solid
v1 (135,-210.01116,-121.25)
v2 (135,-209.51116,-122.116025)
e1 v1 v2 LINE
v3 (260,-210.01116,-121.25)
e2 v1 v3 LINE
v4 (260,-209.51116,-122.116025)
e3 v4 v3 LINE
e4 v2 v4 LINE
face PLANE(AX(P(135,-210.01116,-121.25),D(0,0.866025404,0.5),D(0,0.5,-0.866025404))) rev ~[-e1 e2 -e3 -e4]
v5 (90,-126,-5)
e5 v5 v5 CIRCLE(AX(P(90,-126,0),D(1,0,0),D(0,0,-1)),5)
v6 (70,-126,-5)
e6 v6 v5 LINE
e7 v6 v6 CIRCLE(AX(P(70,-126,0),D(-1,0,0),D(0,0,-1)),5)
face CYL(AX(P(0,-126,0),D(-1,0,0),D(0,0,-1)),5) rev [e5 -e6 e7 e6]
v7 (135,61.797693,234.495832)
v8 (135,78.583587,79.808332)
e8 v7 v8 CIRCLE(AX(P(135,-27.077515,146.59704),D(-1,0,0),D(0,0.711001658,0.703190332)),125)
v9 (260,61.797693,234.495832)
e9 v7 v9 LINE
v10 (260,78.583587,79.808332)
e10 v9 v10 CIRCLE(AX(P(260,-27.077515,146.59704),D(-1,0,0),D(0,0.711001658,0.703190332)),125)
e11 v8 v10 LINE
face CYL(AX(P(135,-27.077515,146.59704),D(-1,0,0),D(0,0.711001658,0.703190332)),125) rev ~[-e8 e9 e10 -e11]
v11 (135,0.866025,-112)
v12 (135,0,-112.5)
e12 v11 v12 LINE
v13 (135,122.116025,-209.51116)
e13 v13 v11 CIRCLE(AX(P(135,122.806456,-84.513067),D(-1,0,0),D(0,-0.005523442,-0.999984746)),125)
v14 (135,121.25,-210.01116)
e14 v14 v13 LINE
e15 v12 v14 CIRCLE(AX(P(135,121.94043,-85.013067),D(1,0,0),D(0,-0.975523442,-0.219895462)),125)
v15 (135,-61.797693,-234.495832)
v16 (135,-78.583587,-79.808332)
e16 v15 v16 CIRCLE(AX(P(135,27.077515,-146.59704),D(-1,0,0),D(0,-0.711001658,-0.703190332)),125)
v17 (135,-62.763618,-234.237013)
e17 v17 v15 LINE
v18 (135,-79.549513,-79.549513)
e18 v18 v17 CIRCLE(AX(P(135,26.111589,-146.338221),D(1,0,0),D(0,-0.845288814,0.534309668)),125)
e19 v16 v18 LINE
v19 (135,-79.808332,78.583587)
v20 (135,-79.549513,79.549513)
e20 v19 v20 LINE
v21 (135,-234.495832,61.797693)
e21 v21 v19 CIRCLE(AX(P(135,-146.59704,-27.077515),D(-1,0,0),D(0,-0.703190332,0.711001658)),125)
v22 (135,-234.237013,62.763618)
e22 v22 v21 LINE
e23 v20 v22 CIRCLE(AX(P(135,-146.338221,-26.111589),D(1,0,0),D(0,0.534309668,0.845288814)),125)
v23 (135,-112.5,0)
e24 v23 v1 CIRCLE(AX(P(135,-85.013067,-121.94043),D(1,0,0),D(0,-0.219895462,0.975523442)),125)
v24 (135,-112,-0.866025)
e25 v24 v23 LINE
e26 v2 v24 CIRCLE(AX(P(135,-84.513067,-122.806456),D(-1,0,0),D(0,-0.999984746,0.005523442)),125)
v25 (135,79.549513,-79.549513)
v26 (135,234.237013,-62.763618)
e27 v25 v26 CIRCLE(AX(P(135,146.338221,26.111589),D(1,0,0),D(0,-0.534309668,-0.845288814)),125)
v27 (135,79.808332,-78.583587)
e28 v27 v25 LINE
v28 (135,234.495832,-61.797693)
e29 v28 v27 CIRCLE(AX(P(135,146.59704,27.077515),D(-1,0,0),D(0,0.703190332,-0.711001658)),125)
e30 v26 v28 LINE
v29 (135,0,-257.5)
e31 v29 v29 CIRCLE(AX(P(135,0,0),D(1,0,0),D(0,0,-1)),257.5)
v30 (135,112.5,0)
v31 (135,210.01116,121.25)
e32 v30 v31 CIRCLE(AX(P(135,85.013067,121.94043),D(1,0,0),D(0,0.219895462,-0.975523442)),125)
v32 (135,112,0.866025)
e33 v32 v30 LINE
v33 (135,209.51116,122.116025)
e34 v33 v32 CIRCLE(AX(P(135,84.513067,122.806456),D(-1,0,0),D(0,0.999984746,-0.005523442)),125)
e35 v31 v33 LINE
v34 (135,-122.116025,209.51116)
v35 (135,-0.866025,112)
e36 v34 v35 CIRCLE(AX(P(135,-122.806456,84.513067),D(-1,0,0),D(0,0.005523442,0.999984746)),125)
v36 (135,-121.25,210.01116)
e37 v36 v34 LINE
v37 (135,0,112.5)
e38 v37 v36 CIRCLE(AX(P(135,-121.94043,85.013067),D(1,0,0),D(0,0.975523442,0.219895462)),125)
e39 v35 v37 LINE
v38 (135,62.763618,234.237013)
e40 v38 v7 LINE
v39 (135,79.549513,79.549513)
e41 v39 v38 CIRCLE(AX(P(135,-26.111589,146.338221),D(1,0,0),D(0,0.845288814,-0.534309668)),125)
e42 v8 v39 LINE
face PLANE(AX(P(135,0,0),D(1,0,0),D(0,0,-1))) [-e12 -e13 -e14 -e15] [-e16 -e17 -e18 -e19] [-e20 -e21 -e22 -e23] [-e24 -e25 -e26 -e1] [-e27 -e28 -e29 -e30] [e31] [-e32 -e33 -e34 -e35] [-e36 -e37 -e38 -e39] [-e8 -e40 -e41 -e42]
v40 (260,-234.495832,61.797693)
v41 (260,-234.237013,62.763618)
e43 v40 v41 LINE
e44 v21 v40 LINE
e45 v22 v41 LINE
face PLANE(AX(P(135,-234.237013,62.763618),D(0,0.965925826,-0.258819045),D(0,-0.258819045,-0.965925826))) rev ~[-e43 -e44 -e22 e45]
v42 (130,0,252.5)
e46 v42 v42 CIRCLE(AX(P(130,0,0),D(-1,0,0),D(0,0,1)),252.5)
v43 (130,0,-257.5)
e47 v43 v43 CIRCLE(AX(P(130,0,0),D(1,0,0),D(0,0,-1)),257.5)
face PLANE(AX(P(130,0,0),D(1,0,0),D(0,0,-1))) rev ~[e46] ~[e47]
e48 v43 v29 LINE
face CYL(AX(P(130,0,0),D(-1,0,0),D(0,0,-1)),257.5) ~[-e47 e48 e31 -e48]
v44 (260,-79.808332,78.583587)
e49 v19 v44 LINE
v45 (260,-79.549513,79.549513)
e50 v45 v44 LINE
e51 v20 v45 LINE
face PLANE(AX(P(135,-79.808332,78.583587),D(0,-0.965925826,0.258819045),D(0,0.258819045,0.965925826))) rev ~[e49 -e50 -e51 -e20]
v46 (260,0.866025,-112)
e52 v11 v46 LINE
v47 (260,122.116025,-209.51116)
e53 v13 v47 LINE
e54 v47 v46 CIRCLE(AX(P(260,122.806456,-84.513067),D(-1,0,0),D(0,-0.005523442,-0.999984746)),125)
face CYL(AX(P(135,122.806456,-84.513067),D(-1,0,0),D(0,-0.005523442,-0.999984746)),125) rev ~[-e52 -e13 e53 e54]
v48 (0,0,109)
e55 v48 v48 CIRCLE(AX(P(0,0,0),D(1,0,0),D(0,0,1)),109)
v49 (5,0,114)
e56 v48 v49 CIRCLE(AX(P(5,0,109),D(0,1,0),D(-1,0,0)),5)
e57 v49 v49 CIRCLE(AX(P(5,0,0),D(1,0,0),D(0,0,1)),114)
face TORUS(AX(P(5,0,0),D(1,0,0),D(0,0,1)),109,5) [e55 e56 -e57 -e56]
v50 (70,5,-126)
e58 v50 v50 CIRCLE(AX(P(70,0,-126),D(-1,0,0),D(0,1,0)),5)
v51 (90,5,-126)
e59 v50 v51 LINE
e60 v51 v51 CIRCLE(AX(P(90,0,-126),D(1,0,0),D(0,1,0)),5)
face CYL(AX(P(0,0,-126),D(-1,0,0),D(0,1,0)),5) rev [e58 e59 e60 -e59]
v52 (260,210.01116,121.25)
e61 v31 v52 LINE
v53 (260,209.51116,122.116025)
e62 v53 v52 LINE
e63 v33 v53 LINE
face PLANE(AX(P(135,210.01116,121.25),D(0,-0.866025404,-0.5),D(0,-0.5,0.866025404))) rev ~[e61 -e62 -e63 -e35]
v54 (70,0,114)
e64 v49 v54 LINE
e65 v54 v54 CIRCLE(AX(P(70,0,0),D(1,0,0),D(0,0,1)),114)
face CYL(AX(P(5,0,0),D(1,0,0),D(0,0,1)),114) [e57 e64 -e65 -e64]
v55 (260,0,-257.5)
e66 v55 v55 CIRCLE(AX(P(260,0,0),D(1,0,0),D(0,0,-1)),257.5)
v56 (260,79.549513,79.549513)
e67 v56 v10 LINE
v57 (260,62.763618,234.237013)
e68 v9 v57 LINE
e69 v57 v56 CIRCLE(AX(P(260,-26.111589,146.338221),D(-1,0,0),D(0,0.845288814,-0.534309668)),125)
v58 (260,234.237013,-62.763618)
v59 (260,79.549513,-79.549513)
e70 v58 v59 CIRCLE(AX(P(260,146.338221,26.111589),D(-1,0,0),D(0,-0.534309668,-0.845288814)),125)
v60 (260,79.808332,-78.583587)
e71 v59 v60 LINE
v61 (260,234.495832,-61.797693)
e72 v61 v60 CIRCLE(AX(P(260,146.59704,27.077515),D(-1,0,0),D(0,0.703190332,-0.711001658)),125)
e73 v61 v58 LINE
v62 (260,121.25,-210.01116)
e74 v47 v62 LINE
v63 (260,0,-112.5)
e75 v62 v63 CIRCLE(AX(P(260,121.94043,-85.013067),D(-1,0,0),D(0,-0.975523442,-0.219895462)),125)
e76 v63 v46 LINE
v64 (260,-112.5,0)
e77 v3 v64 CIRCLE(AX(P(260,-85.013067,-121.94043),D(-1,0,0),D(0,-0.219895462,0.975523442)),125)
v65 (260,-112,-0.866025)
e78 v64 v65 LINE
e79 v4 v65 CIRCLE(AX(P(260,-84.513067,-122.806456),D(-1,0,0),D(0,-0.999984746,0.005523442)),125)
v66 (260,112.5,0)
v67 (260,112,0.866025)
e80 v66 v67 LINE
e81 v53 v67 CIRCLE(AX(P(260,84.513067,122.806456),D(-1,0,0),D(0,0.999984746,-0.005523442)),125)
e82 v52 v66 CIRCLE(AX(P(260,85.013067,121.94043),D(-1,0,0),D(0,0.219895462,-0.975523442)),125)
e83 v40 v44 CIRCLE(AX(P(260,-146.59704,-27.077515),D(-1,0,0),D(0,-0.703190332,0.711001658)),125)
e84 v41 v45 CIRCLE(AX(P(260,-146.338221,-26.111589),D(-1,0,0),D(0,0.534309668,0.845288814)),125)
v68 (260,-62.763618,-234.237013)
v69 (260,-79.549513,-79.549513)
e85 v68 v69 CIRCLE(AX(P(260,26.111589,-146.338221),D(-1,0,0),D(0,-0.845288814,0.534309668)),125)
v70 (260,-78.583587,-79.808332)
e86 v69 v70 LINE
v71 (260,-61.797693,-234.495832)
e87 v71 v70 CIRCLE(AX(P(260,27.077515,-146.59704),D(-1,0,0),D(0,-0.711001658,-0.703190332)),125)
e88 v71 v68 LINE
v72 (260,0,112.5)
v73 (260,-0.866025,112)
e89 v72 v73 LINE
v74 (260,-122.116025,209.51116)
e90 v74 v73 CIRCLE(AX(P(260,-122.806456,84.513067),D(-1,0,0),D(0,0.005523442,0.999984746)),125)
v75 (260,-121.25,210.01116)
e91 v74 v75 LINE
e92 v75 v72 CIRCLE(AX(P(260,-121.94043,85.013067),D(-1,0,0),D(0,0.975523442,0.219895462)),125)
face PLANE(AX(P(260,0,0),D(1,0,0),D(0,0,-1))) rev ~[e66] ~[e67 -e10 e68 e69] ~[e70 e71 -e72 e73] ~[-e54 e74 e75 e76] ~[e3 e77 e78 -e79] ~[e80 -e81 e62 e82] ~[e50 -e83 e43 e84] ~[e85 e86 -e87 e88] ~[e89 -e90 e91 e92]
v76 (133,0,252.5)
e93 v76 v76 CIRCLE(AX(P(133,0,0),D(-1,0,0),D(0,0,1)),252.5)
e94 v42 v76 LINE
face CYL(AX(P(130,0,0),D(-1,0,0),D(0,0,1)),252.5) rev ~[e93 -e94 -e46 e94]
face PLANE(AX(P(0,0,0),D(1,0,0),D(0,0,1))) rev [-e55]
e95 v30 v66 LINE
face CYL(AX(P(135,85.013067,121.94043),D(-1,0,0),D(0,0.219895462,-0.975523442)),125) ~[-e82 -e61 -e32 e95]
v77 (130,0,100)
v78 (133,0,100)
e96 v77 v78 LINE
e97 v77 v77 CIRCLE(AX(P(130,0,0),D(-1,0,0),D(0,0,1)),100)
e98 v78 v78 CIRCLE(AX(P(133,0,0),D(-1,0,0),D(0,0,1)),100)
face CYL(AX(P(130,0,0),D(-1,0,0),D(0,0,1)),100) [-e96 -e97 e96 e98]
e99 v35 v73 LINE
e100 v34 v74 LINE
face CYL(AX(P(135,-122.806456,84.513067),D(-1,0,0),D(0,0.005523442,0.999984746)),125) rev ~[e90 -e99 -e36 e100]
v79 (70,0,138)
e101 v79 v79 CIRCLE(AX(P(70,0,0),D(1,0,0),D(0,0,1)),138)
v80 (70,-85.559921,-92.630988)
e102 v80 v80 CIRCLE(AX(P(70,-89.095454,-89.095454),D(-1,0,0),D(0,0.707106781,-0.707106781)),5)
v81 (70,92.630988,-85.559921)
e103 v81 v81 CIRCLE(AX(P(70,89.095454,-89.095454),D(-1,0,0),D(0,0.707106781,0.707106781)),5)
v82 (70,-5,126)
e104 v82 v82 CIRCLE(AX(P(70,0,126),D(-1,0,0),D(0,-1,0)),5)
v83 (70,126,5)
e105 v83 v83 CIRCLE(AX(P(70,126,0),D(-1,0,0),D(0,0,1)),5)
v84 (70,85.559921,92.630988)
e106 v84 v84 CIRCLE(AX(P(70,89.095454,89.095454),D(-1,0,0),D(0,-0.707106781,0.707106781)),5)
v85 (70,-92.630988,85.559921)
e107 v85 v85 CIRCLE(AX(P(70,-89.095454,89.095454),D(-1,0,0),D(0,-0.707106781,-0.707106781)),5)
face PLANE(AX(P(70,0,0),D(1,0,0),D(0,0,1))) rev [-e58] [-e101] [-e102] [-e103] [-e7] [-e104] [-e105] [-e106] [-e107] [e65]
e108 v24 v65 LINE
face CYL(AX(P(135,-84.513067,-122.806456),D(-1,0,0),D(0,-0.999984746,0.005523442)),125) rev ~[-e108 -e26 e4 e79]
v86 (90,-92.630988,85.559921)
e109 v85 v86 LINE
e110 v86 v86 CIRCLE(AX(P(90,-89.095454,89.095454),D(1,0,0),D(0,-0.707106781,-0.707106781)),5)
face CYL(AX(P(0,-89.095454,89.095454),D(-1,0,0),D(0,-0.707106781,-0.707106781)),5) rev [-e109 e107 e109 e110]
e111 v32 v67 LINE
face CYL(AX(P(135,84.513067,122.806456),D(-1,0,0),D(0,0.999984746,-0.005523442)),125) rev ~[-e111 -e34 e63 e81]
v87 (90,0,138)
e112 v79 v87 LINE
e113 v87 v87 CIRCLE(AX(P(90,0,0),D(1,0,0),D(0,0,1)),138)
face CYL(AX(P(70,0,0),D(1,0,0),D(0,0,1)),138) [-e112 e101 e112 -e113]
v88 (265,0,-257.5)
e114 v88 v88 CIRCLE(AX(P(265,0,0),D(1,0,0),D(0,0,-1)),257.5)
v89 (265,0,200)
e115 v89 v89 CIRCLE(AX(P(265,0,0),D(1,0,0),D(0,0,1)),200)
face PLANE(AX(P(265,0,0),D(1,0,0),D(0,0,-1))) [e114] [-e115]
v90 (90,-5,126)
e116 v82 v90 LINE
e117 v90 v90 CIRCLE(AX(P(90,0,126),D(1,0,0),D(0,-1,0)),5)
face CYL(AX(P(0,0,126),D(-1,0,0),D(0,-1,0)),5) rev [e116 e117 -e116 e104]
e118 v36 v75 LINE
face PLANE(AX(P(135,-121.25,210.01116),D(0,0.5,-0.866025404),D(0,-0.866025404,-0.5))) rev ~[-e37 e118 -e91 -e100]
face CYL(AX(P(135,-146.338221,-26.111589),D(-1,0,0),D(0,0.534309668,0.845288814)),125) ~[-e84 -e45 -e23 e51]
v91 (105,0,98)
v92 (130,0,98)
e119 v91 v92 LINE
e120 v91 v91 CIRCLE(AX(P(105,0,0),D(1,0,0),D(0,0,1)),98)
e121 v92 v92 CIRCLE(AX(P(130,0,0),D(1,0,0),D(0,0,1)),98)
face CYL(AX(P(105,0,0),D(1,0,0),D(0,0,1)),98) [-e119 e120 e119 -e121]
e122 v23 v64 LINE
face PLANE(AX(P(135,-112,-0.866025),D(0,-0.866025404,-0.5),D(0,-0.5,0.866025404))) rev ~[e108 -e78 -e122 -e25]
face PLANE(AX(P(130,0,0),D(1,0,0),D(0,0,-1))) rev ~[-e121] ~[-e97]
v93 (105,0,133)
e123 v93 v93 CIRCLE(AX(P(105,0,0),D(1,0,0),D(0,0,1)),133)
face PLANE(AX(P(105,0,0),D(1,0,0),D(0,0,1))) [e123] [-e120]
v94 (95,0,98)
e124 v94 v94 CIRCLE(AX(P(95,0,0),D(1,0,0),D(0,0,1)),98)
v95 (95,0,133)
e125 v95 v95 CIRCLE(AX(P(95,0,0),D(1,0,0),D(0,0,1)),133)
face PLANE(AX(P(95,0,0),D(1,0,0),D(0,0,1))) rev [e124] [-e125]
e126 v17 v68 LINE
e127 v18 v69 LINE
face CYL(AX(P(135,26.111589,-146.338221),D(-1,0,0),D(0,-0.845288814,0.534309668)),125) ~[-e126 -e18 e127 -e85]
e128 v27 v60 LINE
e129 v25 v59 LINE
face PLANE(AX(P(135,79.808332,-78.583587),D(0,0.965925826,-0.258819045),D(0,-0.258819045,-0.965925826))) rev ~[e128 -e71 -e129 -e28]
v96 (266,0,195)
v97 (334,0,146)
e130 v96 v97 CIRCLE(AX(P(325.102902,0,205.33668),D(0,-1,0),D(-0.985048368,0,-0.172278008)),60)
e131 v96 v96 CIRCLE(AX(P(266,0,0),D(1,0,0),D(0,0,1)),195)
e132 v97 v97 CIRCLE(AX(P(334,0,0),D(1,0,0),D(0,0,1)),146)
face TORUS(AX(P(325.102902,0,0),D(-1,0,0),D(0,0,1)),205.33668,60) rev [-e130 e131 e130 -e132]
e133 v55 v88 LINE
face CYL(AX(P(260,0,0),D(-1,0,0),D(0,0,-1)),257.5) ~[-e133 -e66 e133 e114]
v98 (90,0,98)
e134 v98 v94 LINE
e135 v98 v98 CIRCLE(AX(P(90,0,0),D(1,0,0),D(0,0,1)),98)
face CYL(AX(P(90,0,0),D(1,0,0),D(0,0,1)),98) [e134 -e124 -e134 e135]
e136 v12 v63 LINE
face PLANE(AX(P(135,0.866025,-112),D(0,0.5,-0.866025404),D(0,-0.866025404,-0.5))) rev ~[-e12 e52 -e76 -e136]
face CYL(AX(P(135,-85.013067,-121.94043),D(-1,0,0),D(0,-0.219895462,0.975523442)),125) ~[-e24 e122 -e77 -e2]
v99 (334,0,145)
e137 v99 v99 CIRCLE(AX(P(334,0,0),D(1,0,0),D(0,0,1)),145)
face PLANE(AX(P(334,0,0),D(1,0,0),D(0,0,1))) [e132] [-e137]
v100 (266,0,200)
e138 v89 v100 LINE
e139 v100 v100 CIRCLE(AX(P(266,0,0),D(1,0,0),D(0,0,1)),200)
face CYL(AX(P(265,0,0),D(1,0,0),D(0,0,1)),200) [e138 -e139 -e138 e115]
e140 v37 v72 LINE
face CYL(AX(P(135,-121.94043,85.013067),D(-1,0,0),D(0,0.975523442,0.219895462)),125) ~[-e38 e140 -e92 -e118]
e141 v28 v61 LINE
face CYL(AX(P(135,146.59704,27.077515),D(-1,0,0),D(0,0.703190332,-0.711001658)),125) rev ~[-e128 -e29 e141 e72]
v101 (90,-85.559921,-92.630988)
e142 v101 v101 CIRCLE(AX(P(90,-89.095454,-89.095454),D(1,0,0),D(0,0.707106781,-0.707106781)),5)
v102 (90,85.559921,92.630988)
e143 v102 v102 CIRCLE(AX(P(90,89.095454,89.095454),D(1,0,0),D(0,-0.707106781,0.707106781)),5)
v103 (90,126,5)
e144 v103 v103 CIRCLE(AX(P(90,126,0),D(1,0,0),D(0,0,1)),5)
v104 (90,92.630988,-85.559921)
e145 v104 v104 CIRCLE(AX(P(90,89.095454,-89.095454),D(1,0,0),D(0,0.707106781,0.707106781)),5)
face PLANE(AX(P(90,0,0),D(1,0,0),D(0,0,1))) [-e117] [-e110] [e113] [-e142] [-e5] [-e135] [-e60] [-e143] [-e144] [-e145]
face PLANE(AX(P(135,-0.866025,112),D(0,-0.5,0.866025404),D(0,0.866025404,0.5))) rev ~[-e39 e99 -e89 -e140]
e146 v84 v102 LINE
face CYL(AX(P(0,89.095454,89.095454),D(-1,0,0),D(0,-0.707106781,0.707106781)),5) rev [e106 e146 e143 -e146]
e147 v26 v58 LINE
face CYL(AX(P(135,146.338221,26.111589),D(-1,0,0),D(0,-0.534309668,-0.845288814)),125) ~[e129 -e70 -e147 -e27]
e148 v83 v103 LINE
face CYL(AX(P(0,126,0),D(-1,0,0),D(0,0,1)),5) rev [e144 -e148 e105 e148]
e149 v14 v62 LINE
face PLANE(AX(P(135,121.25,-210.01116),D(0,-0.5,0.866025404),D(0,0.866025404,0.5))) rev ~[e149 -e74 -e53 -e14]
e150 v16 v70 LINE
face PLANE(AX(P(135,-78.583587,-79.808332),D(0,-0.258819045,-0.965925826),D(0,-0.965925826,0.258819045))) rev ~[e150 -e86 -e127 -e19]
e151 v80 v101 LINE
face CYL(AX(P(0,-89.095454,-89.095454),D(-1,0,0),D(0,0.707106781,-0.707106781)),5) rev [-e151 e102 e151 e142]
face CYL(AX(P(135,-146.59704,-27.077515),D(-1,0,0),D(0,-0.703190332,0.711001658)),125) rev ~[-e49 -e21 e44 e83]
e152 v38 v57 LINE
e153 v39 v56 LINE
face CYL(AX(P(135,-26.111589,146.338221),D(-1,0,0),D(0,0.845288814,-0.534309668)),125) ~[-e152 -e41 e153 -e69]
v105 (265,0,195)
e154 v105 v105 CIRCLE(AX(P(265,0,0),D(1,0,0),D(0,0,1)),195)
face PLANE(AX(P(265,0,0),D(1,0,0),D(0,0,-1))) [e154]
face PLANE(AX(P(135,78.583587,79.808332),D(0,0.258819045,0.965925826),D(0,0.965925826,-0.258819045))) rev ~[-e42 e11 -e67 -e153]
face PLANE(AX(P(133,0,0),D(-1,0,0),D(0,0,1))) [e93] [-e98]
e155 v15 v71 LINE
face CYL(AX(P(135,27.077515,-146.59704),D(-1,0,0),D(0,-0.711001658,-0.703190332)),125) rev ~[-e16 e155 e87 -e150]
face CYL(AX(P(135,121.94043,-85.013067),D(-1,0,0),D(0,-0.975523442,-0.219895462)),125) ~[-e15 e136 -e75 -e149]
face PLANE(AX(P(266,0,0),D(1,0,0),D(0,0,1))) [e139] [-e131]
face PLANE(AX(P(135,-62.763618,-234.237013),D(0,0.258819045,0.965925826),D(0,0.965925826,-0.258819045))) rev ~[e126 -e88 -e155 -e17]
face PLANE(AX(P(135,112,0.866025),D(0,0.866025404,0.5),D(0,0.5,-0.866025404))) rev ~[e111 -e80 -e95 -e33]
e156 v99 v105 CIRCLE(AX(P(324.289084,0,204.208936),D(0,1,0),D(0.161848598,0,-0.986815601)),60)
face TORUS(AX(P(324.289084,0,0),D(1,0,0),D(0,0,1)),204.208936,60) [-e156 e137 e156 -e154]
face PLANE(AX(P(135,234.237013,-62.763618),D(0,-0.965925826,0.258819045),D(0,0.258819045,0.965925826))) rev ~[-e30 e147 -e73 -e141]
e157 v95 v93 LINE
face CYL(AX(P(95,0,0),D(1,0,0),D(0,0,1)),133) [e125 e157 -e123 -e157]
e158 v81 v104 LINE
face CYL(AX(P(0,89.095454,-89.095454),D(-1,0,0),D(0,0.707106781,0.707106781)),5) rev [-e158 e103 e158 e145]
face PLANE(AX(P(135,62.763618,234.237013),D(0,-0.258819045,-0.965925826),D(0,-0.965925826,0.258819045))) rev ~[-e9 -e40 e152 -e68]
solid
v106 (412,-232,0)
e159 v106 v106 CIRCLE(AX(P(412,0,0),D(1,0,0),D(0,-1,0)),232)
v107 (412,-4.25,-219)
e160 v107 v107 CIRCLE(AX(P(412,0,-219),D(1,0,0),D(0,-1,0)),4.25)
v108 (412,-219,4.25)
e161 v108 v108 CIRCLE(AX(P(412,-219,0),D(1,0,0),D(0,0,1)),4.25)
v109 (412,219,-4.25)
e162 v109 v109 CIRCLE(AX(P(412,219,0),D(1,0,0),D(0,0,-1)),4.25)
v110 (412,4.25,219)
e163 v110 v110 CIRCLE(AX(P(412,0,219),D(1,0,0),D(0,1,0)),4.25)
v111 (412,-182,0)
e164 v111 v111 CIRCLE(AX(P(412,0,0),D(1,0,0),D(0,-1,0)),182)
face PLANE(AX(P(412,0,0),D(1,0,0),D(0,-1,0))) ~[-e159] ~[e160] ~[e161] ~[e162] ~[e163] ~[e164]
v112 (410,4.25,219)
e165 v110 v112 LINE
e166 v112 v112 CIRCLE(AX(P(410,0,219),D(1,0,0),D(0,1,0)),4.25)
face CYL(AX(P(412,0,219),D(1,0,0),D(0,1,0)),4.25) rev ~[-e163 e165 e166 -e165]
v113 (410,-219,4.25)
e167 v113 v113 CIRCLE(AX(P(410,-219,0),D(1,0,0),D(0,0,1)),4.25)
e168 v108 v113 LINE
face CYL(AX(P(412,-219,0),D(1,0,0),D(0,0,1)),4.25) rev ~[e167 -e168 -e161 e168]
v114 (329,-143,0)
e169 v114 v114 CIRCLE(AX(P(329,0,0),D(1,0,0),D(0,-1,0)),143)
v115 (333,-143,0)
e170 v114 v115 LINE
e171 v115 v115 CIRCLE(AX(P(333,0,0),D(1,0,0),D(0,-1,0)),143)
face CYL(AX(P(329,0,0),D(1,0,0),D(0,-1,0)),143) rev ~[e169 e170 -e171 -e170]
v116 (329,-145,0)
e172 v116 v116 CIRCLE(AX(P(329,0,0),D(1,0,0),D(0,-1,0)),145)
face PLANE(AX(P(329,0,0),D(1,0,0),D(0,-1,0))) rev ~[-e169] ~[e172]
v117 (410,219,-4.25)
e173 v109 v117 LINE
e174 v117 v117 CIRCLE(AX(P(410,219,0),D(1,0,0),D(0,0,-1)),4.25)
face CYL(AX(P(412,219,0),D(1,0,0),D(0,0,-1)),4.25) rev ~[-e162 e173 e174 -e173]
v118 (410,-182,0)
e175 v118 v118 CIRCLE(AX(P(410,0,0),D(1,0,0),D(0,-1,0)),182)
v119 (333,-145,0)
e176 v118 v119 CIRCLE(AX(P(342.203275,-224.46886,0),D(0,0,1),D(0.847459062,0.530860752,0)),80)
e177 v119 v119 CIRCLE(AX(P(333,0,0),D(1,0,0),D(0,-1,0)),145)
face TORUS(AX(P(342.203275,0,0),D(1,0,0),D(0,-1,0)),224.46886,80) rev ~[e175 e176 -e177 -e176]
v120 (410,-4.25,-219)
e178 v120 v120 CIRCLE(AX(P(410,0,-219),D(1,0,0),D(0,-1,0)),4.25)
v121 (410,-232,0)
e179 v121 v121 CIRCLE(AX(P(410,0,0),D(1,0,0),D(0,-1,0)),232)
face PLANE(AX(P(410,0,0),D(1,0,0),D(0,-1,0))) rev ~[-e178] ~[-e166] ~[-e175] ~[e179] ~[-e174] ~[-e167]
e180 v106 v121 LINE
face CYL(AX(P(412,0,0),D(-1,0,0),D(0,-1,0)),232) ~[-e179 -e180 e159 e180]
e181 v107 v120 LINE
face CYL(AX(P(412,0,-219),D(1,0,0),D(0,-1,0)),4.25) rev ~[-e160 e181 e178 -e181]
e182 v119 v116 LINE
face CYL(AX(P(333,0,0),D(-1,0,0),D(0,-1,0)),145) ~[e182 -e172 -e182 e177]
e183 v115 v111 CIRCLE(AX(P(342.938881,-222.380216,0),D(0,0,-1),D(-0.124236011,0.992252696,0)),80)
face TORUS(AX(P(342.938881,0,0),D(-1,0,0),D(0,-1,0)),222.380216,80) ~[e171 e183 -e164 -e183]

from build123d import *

# Parameters (mm, degrees)
SKETCH2_R         = 257.5
EXTRUDE1_DEPTH    = 5
SKETCH9_R         = 252.5
SKETCH9_R_2       = 100
EXTRUDE7_DEPTH    = 3
SKETCH3_R         = 257.5
EXTRUDE2_DEPTH    = 5
EXTRUDE3_DEPTH    = 130
CIRPATTERN1_COUNT = 8
SKETCH7_R         = 4.25
EXTRUDE5_DEPTH    = 5
CIRPATTERN2_COUNT = 4
SKETCH8_R         = 5
EXTRUDE6_DEPTH    = 90
CIRPATTERN3_COUNT = 8


with BuildPart() as part:
    # Sketch1 → Revolve1 (revolve)
    with BuildSketch(Plane.XY, mode=Mode.PRIVATE) as revolve1_sk:
        with BuildLine():
            Line((0, 0), (0, 109))
            ThreePointArc((0, 109), (1.464466094, 112.535533906), (5, 114))
            Line((5, 114), (70, 114))
            Line((70, 114), (70, 138))
            Line((70, 138), (90, 138))
            Line((90, 138), (90, 98))
            Line((90, 98), (95, 98))
            Line((95, 98), (95, 133))
            Line((95, 133), (105, 133))
            Line((105, 133), (105, 98))
            Line((105, 98), (130, 98))
            Line((130, 98), (130, 0))
            Line((130, 0), (0, 0))
        make_face()
    revolve(revolve1_sk.sketch.rotate(Axis((0, 0, 0), (1, 0, 0)), 90), axis=Axis((0, 0, 0), (1, 0, 0)))

    # Sketch2 → Extrude1 (add)
    with BuildSketch(Plane(origin=(130, 0, 0), x_dir=(0, 0, -1), z_dir=(1, 0, 0))):
        Circle(SKETCH2_R)
    extrude(amount=EXTRUDE1_DEPTH)

    # Sketch9 → Extrude7 (cut)
    with BuildSketch(Plane.ZY.offset(-130)):
        Circle(SKETCH9_R)
        Circle(SKETCH9_R_2, mode=Mode.SUBTRACT)
    extrude(amount=-EXTRUDE7_DEPTH, mode=Mode.SUBTRACT)



with BuildPart() as body_2:
    # Sketch3 → Extrude2 (new body)
    with BuildSketch(Plane(origin=(260, 0, 0), x_dir=(0, 0, -1), z_dir=(1, 0, 0))):
        Circle(SKETCH3_R)
    extrude(amount=EXTRUDE2_DEPTH)


with BuildPart() as part_1:
    add(part.part)

    add(body_2.part)  # Extrude3 merges body 2
    # Sketch4 → Extrude3 (add)
    with BuildSketch(Plane(origin=(135, 0, 0), x_dir=(0, 0, -1), z_dir=(1, 0, 0))):
        with BuildLine():
            Line((-121.25, 210.011160418), (-122.116025404, 209.511160418))
            ThreePointArc((-122.116025404, 209.511160418), (-44.469436379, 181.921031018), (-0.866025404, 112))
            Line((-0.866025404, 112), (0, 112.5))
            ThreePointArc((0, 112.5), (-43.603410976, 182.421031018), (-121.25, 210.011160418))
        make_face()
    extrude3 = extrude(amount=EXTRUDE3_DEPTH)

    # CirPattern1: Extrude3 ×8 about axis
    cirpattern1_axis = Axis((0, 0, 0), (1, 0, 0))
    for i in range(1, CIRPATTERN1_COUNT):
        add(extrude3.rotate(cirpattern1_axis, i * 360 / CIRPATTERN1_COUNT))

    # Sketch5 → Revolve2 (revolve)
    with BuildSketch(Plane.XY, mode=Mode.PRIVATE) as revolve2_sk:
        with BuildLine():
            Line((265, 200), (266, 200))
            Line((266, 200), (266, 195))
            ThreePointArc((266, 195), (290.025762909, 156.658201589), (334, 146))
            Line((334, 146), (334, 145))
            ThreePointArc((334, 145), (289.082569219, 155.623945523), (265, 195))
            Line((265, 195), (265, 200))
        make_face()
    revolve(revolve2_sk.sketch.rotate(Axis((0, 0, 0), (1, 0, 0)), 90), axis=Axis((0, 0, 0), (1, 0, 0)))

    # Sketch8 → Extrude6 (cut)
    with BuildSketch(Plane(origin=(0, 0, 0), x_dir=(0, 0, -1), z_dir=(1, 0, 0))):
        with Locations(Location((0, 126, 0), (0, 0, 180))):
            Circle(SKETCH8_R)
    extrude6 = extrude(amount=EXTRUDE6_DEPTH, mode=Mode.SUBTRACT)

    # CirPattern3: Extrude6 ×8 about axis
    cirpattern3_axis = Axis((0, 0, 0), (1, 0, 0))
    for i in range(1, CIRPATTERN3_COUNT):
        add(extrude6.rotate(cirpattern3_axis, i * 360 / CIRPATTERN3_COUNT), mode=Mode.SUBTRACT)


with BuildPart() as body_2_2:
    # Sketch6 → Revolve3 (revolve)
    with BuildSketch(Plane.XY, mode=Mode.PRIVATE) as revolve3_sk:
        with BuildLine():
            Line((412, 232), (410, 232))
            Line((410, 232), (410, 182))
            ThreePointArc((410, 182), (376.85220133, 152.361635071), (333, 145))
            Line((333, 145), (329, 145))
            Line((329, 145), (329, 143))
            Line((329, 143), (333, 143))
            ThreePointArc((333, 143), (378.352293074, 150.645355054), (412, 182))
            Line((412, 182), (412, 232))
        make_face()
    revolve(revolve3_sk.sketch.rotate(Axis((0, 0, 0), (1, 0, 0)), 180), axis=Axis((0, 0, 0), (1, 0, 0)))

    # Sketch7 → Extrude5 (cut)
    with BuildSketch(Plane(origin=(412, 0, 0), x_dir=(0, 0, -1), z_dir=(1, 0, 0))):
        with Locations((0, 219)):
            Circle(SKETCH7_R)
    extrude5 = extrude(amount=-EXTRUDE5_DEPTH, mode=Mode.SUBTRACT)

    # CirPattern2: Extrude5 ×4 about axis
    cirpattern2_axis = Axis((0, 0, 0), (1, 0, 0))
    for i in range(1, CIRPATTERN2_COUNT):
        add(extrude5.rotate(cirpattern2_axis, i * 360 / CIRPATTERN2_COUNT), mode=Mode.SUBTRACT)


solid = Compound([part_1.part, body_2_2.part])
